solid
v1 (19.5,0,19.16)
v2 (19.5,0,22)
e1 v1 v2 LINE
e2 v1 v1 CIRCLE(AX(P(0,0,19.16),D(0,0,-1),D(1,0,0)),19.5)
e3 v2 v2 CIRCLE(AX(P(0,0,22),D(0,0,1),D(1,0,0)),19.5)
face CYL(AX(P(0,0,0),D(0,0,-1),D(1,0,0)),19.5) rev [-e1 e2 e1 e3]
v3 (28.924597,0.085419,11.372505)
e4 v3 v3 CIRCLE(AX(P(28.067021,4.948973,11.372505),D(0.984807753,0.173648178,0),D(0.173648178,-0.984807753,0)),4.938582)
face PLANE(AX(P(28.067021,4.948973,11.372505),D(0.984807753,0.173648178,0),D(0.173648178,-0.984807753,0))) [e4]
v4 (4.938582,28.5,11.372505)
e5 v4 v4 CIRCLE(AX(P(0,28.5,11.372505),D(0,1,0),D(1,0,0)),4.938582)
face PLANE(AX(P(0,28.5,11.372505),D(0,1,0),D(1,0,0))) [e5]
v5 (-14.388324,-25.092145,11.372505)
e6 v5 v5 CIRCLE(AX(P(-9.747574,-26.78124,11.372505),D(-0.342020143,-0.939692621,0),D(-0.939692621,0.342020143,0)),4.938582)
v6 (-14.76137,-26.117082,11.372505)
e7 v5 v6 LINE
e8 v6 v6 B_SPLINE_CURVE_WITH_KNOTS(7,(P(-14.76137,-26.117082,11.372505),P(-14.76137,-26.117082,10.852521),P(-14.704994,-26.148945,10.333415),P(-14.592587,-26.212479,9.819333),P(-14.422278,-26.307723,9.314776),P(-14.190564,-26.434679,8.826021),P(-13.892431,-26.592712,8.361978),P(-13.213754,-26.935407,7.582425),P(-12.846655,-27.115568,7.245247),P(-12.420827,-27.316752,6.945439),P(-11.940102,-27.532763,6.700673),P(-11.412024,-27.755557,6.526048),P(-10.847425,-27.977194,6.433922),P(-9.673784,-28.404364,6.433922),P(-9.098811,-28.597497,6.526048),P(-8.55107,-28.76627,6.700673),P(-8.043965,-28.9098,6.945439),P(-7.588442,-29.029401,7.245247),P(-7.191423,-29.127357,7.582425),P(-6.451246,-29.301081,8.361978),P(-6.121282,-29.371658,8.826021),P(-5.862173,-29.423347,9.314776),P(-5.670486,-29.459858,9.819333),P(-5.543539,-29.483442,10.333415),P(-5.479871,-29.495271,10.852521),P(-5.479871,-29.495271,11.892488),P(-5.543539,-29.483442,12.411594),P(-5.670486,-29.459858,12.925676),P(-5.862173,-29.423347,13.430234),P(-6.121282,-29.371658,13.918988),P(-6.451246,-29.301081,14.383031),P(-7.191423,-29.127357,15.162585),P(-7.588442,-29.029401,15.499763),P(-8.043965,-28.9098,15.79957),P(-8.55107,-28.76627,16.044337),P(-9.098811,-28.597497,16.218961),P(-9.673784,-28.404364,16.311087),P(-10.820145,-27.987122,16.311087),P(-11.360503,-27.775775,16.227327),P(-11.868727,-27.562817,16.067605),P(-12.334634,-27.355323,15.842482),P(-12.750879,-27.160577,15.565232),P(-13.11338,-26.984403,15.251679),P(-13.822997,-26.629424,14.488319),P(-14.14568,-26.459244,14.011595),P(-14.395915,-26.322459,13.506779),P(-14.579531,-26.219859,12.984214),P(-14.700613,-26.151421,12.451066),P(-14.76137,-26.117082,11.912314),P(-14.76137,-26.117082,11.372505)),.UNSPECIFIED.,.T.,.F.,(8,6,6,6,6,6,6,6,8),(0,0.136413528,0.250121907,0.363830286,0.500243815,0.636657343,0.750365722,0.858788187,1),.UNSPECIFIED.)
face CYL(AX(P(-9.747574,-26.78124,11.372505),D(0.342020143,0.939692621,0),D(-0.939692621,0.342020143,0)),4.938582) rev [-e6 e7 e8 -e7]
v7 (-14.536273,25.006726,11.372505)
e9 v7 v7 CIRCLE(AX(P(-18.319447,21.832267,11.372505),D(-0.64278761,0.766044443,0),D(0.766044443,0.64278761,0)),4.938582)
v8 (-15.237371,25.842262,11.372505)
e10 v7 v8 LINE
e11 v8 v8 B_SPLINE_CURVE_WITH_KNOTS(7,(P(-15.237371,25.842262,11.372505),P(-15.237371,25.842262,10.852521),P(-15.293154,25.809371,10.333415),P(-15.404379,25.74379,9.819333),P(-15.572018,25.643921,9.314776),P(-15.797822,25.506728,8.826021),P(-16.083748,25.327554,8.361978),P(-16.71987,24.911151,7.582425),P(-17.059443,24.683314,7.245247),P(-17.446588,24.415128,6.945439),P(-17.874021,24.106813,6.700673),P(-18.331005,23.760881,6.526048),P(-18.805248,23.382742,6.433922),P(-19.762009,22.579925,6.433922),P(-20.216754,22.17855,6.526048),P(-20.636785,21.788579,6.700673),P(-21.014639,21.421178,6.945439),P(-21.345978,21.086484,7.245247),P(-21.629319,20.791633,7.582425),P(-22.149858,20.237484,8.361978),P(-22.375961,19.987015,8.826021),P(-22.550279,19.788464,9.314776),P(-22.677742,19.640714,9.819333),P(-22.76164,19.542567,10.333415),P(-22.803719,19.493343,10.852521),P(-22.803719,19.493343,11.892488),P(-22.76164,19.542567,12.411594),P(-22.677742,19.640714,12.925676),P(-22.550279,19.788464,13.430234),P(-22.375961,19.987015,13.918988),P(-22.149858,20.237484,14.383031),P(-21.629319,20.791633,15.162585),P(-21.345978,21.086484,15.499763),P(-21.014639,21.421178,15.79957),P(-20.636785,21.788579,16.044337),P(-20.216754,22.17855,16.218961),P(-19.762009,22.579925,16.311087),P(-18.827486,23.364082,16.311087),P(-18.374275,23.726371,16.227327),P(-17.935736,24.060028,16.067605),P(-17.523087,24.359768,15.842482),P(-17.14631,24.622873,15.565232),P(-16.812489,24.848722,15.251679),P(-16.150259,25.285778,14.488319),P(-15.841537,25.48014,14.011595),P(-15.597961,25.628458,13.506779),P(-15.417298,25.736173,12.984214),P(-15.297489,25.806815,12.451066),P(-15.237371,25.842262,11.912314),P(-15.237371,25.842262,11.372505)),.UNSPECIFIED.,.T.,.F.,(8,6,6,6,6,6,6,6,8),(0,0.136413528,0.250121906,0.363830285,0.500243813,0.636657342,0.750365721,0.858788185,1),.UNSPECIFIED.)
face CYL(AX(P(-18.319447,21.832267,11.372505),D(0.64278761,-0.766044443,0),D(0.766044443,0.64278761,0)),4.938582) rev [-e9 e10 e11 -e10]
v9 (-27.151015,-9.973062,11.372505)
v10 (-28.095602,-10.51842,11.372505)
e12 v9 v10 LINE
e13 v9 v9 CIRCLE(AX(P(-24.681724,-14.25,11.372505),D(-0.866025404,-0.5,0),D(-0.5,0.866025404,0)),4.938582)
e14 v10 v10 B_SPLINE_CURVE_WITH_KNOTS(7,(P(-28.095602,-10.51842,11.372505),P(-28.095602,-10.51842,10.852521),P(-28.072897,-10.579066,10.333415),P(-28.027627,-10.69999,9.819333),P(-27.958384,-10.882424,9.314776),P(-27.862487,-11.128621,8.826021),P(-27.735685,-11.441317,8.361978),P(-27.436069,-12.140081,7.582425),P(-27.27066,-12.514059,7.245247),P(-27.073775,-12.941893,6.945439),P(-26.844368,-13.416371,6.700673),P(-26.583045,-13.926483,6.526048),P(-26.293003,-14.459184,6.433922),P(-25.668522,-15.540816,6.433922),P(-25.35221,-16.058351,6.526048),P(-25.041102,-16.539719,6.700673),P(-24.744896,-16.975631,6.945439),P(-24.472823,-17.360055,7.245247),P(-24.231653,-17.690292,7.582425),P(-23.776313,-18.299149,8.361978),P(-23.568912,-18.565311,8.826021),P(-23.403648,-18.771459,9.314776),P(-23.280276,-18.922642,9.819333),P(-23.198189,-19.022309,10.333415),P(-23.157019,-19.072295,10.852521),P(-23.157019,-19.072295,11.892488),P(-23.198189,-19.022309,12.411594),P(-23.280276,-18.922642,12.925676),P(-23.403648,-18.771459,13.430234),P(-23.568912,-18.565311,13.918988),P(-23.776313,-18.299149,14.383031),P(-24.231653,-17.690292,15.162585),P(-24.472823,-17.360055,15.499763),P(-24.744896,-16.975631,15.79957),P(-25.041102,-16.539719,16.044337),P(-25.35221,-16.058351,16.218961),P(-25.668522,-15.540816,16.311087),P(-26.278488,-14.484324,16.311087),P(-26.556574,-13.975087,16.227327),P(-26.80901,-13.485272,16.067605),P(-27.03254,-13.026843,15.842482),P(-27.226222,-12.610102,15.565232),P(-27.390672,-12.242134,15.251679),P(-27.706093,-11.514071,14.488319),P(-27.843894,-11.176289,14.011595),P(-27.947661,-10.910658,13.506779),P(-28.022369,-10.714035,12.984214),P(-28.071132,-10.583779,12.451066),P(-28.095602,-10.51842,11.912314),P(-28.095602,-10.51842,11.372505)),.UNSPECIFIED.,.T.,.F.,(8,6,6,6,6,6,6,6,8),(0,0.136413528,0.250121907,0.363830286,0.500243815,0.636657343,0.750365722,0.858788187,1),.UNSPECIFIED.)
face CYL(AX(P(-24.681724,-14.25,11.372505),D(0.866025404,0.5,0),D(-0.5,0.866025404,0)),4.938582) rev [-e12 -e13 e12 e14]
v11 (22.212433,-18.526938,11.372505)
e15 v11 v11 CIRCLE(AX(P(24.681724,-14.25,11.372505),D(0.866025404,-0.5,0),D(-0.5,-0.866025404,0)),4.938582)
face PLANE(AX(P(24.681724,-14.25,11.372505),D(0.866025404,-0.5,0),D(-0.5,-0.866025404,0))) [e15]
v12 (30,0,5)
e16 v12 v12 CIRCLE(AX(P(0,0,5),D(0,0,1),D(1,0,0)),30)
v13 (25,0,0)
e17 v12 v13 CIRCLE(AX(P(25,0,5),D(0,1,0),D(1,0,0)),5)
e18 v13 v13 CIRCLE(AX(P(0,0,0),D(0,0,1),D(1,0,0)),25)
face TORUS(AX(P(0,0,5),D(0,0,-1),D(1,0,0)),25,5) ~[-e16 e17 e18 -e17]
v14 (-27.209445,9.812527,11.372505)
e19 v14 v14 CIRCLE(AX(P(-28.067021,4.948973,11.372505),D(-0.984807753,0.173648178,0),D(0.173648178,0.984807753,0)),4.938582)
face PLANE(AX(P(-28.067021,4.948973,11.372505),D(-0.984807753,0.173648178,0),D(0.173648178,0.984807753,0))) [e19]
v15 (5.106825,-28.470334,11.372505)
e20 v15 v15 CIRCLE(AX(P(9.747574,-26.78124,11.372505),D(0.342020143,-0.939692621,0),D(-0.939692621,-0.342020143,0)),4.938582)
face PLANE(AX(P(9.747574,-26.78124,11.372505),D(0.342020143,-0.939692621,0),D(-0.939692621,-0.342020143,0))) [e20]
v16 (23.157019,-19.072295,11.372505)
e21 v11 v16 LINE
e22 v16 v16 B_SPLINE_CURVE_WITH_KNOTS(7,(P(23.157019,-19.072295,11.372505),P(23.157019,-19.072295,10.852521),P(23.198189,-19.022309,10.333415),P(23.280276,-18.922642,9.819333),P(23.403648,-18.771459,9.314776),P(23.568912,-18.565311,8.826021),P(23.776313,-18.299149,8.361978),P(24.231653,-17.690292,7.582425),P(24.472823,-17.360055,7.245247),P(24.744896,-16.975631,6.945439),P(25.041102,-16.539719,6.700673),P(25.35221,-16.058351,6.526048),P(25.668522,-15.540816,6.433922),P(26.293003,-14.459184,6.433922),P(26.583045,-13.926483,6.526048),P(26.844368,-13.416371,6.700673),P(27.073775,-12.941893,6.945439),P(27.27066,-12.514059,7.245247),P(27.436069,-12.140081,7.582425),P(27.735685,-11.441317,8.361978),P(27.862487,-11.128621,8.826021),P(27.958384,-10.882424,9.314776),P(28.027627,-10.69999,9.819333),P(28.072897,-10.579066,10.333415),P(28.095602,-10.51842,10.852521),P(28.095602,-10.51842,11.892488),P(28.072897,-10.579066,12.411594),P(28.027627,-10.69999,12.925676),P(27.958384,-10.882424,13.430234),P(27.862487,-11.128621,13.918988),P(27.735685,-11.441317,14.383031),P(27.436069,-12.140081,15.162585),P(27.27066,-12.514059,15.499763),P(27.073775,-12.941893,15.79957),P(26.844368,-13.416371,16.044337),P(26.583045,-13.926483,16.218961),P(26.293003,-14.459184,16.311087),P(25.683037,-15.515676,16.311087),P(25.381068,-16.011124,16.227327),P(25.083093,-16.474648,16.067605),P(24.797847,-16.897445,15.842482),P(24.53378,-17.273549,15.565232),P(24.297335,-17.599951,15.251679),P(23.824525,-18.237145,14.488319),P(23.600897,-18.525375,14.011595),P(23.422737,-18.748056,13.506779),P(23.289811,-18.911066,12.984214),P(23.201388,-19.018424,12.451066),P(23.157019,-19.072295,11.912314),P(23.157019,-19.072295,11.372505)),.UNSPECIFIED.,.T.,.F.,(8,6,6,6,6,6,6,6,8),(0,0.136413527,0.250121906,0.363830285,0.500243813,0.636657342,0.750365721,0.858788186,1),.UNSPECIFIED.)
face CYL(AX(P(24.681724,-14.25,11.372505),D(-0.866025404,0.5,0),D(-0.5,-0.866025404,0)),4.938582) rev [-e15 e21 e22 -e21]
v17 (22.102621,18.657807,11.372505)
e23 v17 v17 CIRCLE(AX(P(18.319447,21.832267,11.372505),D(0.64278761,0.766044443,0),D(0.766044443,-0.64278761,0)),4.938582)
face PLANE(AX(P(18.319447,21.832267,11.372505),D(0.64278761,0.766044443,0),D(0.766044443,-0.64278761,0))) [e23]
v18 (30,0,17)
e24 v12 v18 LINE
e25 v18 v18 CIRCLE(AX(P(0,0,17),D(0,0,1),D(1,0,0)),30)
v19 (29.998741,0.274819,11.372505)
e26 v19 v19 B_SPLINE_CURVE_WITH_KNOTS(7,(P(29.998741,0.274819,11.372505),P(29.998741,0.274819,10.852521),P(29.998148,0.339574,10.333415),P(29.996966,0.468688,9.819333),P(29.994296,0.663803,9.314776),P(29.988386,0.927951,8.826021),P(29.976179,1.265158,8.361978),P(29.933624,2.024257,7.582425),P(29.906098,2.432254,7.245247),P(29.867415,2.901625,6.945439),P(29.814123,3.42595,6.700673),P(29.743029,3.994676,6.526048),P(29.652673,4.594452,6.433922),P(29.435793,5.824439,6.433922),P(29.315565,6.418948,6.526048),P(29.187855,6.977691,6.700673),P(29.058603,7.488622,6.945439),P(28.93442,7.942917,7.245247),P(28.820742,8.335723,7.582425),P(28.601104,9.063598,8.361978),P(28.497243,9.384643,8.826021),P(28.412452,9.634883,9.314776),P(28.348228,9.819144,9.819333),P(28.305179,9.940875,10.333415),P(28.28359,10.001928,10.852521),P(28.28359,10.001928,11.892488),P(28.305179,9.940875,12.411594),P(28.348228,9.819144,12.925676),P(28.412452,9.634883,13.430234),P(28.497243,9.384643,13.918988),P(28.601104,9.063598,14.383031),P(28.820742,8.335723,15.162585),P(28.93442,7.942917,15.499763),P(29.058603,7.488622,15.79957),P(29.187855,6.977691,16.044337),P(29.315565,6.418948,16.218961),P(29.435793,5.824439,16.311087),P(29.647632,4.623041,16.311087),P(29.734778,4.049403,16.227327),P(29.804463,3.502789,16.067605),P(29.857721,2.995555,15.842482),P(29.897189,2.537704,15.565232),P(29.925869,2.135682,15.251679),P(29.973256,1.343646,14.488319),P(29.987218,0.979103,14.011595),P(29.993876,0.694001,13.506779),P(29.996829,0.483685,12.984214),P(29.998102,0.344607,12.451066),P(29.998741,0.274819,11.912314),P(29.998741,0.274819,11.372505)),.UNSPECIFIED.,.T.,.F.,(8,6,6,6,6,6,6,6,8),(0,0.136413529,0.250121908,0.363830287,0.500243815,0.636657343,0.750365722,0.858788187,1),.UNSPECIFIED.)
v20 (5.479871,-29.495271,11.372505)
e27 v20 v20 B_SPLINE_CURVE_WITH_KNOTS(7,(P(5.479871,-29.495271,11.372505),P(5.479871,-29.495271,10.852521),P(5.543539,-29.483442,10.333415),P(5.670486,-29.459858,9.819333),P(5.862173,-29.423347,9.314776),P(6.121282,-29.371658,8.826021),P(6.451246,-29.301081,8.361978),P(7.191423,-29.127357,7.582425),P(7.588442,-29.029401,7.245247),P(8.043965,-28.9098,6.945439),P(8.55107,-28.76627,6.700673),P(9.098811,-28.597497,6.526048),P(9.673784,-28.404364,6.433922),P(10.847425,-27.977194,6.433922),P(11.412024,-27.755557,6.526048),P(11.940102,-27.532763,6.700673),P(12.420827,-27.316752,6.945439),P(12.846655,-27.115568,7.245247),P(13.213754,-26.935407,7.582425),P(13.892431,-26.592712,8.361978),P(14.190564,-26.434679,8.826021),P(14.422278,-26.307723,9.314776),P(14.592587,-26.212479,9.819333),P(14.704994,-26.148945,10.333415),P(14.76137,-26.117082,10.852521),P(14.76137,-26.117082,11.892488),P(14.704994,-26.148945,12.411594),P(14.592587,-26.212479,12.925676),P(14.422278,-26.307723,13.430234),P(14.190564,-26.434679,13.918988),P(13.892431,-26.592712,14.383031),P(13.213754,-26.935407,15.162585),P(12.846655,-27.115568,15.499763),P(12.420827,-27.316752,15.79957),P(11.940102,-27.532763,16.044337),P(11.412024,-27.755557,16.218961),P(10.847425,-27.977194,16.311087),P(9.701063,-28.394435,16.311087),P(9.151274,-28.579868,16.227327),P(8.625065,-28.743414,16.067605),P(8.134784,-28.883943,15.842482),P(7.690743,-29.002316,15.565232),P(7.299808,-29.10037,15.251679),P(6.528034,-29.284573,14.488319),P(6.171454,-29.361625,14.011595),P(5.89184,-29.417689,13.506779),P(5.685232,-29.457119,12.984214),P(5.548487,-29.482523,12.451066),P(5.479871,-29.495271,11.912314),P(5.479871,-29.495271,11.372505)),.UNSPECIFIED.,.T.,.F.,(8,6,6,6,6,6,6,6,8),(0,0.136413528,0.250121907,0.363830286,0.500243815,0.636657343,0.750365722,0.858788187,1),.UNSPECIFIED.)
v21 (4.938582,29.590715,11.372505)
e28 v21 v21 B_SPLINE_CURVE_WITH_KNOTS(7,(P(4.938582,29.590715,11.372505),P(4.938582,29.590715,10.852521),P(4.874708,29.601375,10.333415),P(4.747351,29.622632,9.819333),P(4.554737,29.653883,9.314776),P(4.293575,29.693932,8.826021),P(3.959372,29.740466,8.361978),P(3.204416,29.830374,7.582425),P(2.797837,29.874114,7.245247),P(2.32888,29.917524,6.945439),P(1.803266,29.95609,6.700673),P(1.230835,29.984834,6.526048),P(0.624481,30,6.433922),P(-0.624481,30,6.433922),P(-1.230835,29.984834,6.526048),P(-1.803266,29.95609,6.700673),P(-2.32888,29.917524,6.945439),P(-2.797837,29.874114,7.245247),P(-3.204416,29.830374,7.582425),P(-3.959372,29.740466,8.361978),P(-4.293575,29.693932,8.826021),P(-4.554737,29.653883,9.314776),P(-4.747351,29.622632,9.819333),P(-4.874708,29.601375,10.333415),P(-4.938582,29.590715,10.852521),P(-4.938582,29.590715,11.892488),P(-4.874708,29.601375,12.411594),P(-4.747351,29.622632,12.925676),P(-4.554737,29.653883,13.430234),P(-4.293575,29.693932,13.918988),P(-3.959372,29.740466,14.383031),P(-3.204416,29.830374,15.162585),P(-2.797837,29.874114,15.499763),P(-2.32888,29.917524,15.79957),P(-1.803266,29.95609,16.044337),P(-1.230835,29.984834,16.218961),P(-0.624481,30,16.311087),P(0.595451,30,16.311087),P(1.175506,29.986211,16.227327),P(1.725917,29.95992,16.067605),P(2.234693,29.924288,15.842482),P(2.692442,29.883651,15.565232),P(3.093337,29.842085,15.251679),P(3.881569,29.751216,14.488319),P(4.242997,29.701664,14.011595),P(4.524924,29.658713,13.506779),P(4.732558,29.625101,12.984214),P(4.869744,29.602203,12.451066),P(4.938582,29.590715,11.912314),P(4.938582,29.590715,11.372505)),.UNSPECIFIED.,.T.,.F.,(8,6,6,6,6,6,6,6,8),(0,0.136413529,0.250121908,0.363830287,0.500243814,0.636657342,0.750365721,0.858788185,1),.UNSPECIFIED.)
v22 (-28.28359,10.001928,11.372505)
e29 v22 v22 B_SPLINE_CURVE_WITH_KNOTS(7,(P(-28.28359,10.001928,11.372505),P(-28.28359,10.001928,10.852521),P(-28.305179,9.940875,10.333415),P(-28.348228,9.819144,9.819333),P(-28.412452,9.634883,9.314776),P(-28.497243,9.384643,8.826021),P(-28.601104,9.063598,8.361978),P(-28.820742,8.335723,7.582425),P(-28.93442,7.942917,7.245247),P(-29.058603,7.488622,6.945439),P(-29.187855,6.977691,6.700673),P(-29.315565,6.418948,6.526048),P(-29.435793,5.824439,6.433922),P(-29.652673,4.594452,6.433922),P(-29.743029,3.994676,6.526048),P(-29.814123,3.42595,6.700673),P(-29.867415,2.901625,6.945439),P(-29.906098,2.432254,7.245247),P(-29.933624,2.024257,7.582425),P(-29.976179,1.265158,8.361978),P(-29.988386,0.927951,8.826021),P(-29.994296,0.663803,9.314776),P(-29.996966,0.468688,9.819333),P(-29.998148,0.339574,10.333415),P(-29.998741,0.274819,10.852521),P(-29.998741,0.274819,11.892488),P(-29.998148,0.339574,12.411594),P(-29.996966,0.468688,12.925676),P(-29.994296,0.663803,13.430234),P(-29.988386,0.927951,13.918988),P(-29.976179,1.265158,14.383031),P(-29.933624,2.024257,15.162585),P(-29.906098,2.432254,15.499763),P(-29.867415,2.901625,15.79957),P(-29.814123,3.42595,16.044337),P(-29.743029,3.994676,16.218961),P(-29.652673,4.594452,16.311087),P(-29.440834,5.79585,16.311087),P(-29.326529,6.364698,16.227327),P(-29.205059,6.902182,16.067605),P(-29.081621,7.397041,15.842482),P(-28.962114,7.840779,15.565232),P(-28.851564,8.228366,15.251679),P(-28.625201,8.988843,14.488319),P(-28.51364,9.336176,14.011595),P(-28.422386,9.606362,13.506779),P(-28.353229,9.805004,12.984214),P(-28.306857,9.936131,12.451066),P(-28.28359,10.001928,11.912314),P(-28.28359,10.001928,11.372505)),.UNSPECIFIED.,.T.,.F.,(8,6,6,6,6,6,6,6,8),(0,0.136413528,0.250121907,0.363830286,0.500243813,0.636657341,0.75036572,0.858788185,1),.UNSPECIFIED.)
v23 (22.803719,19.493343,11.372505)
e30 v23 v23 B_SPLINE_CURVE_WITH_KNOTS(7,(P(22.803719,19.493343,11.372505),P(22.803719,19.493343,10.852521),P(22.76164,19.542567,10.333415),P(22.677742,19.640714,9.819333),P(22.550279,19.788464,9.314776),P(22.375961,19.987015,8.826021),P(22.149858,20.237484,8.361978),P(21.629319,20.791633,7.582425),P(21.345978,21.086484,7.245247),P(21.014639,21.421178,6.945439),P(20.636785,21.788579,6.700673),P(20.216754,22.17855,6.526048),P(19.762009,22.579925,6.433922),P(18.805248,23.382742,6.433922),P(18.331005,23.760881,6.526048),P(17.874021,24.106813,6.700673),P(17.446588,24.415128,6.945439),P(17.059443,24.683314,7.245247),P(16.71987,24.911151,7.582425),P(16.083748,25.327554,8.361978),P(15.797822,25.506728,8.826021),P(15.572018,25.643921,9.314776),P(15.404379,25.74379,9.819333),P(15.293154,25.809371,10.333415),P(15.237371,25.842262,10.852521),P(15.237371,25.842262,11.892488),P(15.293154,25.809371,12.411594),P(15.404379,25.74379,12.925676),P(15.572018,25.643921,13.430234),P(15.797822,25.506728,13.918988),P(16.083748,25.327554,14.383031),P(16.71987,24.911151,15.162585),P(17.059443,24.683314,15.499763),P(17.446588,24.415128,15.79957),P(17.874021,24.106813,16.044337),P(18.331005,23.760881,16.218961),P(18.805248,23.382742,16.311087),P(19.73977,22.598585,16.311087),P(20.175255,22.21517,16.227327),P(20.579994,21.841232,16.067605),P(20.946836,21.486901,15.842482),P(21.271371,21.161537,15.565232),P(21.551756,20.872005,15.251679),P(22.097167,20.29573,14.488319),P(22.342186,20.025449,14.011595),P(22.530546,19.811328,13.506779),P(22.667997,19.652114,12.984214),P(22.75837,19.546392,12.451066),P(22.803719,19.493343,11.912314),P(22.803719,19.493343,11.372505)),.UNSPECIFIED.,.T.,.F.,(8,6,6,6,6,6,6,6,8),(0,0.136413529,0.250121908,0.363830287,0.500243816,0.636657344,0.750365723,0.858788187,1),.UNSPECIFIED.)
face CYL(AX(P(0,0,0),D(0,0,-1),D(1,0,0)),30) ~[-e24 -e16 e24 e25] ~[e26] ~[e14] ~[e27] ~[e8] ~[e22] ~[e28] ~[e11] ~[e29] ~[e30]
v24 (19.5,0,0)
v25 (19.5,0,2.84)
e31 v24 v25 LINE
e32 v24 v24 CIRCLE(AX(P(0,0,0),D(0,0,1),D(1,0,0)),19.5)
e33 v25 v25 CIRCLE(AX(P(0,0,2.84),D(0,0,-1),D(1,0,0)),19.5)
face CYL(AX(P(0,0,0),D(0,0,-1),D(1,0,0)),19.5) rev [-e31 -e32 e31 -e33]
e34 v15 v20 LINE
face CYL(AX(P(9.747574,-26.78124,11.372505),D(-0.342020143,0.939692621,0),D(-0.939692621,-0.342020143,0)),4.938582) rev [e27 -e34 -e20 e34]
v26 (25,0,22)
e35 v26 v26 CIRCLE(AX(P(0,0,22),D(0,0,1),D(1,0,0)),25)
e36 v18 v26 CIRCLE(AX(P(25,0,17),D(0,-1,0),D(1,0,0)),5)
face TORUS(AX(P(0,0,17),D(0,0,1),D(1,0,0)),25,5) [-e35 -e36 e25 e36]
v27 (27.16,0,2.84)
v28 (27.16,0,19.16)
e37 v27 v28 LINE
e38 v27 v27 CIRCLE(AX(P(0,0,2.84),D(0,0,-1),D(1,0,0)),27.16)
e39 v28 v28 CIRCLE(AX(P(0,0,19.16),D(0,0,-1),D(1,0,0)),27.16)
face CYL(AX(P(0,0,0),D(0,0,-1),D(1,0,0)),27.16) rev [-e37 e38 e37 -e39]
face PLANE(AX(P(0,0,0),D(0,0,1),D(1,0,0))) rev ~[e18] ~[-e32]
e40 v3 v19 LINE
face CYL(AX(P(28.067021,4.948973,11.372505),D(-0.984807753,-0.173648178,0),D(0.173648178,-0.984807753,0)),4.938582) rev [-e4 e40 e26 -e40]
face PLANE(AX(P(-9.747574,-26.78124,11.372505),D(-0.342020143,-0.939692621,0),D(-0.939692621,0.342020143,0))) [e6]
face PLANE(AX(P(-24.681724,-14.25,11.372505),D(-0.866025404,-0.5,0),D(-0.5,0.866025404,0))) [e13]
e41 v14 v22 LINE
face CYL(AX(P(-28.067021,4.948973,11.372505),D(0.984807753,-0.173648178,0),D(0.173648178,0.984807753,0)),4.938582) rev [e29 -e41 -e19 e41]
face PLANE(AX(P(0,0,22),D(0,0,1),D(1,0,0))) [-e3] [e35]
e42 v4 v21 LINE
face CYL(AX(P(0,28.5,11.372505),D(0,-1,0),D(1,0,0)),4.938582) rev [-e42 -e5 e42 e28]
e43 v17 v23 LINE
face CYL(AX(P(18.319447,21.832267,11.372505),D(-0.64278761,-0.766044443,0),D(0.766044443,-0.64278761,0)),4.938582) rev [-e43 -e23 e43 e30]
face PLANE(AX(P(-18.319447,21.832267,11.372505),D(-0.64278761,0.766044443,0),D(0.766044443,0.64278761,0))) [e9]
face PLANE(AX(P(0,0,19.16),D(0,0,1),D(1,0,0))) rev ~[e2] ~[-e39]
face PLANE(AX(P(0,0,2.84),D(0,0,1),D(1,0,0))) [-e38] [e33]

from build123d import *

# Parameters (mm, degrees)
SKETCH5_R           = 30
BOSS_EXTRUDE2_DEPTH = 22
SKETCH6_R           = 19.5
CUT_EXTRUDE3_DEPTH  = 22
SHELL4_T            = -2.84
FILLET2_R           = 5
SKETCH7_R           = 4.938582487
CUT_EXTRUDE4_DEPTH  = 22
CIRPATTERN1_COUNT   = 9


with BuildPart() as part:
    # Sketch5 → Boss-Extrude2 (new body)
    with BuildSketch(Plane.XY):
        Circle(SKETCH5_R)
    extrude(amount=BOSS_EXTRUDE2_DEPTH)

    # Sketch6 → Cut-Extrude3 (cut)
    with BuildSketch(Plane.XY):
        Circle(SKETCH6_R)
    extrude(amount=CUT_EXTRUDE3_DEPTH, mode=Mode.SUBTRACT)

    # Shell4
    shell4_openings = [part.faces().sort_by_distance(p)[0] for p in [
        (-19.5, 0, 11),
    ]]
    offset(amount=SHELL4_T, openings=shell4_openings, kind=Kind.INTERSECTION)

    # Fillet2
    fillet2_edges = [part.edges().sort_by_distance(p)[0] for p in [
        (-30, 0, 0),
        (-30, 0, 22),
    ]]
    fillet(fillet2_edges, radius=FILLET2_R)

    # Sketch7 → Cut-Extrude4 (cut)
    with BuildSketch(Plane(origin=(0, 28.5, 0), x_dir=(1, 0, 0), z_dir=(0, 1, 0))):
        with Locations((0, -11.372504627)):
            Circle(SKETCH7_R)
    cut_extrude4 = extrude(amount=CUT_EXTRUDE4_DEPTH, mode=Mode.SUBTRACT)

    # CirPattern1: Cut-Extrude4 ×9 about axis
    cirpattern1_axis = Axis((0, 0, 23.1), (0, 0, -1))
    for i in range(1, CIRPATTERN1_COUNT):
        add(cut_extrude4.rotate(cirpattern1_axis, i * 360 / CIRPATTERN1_COUNT), mode=Mode.SUBTRACT)


solid = part.part
